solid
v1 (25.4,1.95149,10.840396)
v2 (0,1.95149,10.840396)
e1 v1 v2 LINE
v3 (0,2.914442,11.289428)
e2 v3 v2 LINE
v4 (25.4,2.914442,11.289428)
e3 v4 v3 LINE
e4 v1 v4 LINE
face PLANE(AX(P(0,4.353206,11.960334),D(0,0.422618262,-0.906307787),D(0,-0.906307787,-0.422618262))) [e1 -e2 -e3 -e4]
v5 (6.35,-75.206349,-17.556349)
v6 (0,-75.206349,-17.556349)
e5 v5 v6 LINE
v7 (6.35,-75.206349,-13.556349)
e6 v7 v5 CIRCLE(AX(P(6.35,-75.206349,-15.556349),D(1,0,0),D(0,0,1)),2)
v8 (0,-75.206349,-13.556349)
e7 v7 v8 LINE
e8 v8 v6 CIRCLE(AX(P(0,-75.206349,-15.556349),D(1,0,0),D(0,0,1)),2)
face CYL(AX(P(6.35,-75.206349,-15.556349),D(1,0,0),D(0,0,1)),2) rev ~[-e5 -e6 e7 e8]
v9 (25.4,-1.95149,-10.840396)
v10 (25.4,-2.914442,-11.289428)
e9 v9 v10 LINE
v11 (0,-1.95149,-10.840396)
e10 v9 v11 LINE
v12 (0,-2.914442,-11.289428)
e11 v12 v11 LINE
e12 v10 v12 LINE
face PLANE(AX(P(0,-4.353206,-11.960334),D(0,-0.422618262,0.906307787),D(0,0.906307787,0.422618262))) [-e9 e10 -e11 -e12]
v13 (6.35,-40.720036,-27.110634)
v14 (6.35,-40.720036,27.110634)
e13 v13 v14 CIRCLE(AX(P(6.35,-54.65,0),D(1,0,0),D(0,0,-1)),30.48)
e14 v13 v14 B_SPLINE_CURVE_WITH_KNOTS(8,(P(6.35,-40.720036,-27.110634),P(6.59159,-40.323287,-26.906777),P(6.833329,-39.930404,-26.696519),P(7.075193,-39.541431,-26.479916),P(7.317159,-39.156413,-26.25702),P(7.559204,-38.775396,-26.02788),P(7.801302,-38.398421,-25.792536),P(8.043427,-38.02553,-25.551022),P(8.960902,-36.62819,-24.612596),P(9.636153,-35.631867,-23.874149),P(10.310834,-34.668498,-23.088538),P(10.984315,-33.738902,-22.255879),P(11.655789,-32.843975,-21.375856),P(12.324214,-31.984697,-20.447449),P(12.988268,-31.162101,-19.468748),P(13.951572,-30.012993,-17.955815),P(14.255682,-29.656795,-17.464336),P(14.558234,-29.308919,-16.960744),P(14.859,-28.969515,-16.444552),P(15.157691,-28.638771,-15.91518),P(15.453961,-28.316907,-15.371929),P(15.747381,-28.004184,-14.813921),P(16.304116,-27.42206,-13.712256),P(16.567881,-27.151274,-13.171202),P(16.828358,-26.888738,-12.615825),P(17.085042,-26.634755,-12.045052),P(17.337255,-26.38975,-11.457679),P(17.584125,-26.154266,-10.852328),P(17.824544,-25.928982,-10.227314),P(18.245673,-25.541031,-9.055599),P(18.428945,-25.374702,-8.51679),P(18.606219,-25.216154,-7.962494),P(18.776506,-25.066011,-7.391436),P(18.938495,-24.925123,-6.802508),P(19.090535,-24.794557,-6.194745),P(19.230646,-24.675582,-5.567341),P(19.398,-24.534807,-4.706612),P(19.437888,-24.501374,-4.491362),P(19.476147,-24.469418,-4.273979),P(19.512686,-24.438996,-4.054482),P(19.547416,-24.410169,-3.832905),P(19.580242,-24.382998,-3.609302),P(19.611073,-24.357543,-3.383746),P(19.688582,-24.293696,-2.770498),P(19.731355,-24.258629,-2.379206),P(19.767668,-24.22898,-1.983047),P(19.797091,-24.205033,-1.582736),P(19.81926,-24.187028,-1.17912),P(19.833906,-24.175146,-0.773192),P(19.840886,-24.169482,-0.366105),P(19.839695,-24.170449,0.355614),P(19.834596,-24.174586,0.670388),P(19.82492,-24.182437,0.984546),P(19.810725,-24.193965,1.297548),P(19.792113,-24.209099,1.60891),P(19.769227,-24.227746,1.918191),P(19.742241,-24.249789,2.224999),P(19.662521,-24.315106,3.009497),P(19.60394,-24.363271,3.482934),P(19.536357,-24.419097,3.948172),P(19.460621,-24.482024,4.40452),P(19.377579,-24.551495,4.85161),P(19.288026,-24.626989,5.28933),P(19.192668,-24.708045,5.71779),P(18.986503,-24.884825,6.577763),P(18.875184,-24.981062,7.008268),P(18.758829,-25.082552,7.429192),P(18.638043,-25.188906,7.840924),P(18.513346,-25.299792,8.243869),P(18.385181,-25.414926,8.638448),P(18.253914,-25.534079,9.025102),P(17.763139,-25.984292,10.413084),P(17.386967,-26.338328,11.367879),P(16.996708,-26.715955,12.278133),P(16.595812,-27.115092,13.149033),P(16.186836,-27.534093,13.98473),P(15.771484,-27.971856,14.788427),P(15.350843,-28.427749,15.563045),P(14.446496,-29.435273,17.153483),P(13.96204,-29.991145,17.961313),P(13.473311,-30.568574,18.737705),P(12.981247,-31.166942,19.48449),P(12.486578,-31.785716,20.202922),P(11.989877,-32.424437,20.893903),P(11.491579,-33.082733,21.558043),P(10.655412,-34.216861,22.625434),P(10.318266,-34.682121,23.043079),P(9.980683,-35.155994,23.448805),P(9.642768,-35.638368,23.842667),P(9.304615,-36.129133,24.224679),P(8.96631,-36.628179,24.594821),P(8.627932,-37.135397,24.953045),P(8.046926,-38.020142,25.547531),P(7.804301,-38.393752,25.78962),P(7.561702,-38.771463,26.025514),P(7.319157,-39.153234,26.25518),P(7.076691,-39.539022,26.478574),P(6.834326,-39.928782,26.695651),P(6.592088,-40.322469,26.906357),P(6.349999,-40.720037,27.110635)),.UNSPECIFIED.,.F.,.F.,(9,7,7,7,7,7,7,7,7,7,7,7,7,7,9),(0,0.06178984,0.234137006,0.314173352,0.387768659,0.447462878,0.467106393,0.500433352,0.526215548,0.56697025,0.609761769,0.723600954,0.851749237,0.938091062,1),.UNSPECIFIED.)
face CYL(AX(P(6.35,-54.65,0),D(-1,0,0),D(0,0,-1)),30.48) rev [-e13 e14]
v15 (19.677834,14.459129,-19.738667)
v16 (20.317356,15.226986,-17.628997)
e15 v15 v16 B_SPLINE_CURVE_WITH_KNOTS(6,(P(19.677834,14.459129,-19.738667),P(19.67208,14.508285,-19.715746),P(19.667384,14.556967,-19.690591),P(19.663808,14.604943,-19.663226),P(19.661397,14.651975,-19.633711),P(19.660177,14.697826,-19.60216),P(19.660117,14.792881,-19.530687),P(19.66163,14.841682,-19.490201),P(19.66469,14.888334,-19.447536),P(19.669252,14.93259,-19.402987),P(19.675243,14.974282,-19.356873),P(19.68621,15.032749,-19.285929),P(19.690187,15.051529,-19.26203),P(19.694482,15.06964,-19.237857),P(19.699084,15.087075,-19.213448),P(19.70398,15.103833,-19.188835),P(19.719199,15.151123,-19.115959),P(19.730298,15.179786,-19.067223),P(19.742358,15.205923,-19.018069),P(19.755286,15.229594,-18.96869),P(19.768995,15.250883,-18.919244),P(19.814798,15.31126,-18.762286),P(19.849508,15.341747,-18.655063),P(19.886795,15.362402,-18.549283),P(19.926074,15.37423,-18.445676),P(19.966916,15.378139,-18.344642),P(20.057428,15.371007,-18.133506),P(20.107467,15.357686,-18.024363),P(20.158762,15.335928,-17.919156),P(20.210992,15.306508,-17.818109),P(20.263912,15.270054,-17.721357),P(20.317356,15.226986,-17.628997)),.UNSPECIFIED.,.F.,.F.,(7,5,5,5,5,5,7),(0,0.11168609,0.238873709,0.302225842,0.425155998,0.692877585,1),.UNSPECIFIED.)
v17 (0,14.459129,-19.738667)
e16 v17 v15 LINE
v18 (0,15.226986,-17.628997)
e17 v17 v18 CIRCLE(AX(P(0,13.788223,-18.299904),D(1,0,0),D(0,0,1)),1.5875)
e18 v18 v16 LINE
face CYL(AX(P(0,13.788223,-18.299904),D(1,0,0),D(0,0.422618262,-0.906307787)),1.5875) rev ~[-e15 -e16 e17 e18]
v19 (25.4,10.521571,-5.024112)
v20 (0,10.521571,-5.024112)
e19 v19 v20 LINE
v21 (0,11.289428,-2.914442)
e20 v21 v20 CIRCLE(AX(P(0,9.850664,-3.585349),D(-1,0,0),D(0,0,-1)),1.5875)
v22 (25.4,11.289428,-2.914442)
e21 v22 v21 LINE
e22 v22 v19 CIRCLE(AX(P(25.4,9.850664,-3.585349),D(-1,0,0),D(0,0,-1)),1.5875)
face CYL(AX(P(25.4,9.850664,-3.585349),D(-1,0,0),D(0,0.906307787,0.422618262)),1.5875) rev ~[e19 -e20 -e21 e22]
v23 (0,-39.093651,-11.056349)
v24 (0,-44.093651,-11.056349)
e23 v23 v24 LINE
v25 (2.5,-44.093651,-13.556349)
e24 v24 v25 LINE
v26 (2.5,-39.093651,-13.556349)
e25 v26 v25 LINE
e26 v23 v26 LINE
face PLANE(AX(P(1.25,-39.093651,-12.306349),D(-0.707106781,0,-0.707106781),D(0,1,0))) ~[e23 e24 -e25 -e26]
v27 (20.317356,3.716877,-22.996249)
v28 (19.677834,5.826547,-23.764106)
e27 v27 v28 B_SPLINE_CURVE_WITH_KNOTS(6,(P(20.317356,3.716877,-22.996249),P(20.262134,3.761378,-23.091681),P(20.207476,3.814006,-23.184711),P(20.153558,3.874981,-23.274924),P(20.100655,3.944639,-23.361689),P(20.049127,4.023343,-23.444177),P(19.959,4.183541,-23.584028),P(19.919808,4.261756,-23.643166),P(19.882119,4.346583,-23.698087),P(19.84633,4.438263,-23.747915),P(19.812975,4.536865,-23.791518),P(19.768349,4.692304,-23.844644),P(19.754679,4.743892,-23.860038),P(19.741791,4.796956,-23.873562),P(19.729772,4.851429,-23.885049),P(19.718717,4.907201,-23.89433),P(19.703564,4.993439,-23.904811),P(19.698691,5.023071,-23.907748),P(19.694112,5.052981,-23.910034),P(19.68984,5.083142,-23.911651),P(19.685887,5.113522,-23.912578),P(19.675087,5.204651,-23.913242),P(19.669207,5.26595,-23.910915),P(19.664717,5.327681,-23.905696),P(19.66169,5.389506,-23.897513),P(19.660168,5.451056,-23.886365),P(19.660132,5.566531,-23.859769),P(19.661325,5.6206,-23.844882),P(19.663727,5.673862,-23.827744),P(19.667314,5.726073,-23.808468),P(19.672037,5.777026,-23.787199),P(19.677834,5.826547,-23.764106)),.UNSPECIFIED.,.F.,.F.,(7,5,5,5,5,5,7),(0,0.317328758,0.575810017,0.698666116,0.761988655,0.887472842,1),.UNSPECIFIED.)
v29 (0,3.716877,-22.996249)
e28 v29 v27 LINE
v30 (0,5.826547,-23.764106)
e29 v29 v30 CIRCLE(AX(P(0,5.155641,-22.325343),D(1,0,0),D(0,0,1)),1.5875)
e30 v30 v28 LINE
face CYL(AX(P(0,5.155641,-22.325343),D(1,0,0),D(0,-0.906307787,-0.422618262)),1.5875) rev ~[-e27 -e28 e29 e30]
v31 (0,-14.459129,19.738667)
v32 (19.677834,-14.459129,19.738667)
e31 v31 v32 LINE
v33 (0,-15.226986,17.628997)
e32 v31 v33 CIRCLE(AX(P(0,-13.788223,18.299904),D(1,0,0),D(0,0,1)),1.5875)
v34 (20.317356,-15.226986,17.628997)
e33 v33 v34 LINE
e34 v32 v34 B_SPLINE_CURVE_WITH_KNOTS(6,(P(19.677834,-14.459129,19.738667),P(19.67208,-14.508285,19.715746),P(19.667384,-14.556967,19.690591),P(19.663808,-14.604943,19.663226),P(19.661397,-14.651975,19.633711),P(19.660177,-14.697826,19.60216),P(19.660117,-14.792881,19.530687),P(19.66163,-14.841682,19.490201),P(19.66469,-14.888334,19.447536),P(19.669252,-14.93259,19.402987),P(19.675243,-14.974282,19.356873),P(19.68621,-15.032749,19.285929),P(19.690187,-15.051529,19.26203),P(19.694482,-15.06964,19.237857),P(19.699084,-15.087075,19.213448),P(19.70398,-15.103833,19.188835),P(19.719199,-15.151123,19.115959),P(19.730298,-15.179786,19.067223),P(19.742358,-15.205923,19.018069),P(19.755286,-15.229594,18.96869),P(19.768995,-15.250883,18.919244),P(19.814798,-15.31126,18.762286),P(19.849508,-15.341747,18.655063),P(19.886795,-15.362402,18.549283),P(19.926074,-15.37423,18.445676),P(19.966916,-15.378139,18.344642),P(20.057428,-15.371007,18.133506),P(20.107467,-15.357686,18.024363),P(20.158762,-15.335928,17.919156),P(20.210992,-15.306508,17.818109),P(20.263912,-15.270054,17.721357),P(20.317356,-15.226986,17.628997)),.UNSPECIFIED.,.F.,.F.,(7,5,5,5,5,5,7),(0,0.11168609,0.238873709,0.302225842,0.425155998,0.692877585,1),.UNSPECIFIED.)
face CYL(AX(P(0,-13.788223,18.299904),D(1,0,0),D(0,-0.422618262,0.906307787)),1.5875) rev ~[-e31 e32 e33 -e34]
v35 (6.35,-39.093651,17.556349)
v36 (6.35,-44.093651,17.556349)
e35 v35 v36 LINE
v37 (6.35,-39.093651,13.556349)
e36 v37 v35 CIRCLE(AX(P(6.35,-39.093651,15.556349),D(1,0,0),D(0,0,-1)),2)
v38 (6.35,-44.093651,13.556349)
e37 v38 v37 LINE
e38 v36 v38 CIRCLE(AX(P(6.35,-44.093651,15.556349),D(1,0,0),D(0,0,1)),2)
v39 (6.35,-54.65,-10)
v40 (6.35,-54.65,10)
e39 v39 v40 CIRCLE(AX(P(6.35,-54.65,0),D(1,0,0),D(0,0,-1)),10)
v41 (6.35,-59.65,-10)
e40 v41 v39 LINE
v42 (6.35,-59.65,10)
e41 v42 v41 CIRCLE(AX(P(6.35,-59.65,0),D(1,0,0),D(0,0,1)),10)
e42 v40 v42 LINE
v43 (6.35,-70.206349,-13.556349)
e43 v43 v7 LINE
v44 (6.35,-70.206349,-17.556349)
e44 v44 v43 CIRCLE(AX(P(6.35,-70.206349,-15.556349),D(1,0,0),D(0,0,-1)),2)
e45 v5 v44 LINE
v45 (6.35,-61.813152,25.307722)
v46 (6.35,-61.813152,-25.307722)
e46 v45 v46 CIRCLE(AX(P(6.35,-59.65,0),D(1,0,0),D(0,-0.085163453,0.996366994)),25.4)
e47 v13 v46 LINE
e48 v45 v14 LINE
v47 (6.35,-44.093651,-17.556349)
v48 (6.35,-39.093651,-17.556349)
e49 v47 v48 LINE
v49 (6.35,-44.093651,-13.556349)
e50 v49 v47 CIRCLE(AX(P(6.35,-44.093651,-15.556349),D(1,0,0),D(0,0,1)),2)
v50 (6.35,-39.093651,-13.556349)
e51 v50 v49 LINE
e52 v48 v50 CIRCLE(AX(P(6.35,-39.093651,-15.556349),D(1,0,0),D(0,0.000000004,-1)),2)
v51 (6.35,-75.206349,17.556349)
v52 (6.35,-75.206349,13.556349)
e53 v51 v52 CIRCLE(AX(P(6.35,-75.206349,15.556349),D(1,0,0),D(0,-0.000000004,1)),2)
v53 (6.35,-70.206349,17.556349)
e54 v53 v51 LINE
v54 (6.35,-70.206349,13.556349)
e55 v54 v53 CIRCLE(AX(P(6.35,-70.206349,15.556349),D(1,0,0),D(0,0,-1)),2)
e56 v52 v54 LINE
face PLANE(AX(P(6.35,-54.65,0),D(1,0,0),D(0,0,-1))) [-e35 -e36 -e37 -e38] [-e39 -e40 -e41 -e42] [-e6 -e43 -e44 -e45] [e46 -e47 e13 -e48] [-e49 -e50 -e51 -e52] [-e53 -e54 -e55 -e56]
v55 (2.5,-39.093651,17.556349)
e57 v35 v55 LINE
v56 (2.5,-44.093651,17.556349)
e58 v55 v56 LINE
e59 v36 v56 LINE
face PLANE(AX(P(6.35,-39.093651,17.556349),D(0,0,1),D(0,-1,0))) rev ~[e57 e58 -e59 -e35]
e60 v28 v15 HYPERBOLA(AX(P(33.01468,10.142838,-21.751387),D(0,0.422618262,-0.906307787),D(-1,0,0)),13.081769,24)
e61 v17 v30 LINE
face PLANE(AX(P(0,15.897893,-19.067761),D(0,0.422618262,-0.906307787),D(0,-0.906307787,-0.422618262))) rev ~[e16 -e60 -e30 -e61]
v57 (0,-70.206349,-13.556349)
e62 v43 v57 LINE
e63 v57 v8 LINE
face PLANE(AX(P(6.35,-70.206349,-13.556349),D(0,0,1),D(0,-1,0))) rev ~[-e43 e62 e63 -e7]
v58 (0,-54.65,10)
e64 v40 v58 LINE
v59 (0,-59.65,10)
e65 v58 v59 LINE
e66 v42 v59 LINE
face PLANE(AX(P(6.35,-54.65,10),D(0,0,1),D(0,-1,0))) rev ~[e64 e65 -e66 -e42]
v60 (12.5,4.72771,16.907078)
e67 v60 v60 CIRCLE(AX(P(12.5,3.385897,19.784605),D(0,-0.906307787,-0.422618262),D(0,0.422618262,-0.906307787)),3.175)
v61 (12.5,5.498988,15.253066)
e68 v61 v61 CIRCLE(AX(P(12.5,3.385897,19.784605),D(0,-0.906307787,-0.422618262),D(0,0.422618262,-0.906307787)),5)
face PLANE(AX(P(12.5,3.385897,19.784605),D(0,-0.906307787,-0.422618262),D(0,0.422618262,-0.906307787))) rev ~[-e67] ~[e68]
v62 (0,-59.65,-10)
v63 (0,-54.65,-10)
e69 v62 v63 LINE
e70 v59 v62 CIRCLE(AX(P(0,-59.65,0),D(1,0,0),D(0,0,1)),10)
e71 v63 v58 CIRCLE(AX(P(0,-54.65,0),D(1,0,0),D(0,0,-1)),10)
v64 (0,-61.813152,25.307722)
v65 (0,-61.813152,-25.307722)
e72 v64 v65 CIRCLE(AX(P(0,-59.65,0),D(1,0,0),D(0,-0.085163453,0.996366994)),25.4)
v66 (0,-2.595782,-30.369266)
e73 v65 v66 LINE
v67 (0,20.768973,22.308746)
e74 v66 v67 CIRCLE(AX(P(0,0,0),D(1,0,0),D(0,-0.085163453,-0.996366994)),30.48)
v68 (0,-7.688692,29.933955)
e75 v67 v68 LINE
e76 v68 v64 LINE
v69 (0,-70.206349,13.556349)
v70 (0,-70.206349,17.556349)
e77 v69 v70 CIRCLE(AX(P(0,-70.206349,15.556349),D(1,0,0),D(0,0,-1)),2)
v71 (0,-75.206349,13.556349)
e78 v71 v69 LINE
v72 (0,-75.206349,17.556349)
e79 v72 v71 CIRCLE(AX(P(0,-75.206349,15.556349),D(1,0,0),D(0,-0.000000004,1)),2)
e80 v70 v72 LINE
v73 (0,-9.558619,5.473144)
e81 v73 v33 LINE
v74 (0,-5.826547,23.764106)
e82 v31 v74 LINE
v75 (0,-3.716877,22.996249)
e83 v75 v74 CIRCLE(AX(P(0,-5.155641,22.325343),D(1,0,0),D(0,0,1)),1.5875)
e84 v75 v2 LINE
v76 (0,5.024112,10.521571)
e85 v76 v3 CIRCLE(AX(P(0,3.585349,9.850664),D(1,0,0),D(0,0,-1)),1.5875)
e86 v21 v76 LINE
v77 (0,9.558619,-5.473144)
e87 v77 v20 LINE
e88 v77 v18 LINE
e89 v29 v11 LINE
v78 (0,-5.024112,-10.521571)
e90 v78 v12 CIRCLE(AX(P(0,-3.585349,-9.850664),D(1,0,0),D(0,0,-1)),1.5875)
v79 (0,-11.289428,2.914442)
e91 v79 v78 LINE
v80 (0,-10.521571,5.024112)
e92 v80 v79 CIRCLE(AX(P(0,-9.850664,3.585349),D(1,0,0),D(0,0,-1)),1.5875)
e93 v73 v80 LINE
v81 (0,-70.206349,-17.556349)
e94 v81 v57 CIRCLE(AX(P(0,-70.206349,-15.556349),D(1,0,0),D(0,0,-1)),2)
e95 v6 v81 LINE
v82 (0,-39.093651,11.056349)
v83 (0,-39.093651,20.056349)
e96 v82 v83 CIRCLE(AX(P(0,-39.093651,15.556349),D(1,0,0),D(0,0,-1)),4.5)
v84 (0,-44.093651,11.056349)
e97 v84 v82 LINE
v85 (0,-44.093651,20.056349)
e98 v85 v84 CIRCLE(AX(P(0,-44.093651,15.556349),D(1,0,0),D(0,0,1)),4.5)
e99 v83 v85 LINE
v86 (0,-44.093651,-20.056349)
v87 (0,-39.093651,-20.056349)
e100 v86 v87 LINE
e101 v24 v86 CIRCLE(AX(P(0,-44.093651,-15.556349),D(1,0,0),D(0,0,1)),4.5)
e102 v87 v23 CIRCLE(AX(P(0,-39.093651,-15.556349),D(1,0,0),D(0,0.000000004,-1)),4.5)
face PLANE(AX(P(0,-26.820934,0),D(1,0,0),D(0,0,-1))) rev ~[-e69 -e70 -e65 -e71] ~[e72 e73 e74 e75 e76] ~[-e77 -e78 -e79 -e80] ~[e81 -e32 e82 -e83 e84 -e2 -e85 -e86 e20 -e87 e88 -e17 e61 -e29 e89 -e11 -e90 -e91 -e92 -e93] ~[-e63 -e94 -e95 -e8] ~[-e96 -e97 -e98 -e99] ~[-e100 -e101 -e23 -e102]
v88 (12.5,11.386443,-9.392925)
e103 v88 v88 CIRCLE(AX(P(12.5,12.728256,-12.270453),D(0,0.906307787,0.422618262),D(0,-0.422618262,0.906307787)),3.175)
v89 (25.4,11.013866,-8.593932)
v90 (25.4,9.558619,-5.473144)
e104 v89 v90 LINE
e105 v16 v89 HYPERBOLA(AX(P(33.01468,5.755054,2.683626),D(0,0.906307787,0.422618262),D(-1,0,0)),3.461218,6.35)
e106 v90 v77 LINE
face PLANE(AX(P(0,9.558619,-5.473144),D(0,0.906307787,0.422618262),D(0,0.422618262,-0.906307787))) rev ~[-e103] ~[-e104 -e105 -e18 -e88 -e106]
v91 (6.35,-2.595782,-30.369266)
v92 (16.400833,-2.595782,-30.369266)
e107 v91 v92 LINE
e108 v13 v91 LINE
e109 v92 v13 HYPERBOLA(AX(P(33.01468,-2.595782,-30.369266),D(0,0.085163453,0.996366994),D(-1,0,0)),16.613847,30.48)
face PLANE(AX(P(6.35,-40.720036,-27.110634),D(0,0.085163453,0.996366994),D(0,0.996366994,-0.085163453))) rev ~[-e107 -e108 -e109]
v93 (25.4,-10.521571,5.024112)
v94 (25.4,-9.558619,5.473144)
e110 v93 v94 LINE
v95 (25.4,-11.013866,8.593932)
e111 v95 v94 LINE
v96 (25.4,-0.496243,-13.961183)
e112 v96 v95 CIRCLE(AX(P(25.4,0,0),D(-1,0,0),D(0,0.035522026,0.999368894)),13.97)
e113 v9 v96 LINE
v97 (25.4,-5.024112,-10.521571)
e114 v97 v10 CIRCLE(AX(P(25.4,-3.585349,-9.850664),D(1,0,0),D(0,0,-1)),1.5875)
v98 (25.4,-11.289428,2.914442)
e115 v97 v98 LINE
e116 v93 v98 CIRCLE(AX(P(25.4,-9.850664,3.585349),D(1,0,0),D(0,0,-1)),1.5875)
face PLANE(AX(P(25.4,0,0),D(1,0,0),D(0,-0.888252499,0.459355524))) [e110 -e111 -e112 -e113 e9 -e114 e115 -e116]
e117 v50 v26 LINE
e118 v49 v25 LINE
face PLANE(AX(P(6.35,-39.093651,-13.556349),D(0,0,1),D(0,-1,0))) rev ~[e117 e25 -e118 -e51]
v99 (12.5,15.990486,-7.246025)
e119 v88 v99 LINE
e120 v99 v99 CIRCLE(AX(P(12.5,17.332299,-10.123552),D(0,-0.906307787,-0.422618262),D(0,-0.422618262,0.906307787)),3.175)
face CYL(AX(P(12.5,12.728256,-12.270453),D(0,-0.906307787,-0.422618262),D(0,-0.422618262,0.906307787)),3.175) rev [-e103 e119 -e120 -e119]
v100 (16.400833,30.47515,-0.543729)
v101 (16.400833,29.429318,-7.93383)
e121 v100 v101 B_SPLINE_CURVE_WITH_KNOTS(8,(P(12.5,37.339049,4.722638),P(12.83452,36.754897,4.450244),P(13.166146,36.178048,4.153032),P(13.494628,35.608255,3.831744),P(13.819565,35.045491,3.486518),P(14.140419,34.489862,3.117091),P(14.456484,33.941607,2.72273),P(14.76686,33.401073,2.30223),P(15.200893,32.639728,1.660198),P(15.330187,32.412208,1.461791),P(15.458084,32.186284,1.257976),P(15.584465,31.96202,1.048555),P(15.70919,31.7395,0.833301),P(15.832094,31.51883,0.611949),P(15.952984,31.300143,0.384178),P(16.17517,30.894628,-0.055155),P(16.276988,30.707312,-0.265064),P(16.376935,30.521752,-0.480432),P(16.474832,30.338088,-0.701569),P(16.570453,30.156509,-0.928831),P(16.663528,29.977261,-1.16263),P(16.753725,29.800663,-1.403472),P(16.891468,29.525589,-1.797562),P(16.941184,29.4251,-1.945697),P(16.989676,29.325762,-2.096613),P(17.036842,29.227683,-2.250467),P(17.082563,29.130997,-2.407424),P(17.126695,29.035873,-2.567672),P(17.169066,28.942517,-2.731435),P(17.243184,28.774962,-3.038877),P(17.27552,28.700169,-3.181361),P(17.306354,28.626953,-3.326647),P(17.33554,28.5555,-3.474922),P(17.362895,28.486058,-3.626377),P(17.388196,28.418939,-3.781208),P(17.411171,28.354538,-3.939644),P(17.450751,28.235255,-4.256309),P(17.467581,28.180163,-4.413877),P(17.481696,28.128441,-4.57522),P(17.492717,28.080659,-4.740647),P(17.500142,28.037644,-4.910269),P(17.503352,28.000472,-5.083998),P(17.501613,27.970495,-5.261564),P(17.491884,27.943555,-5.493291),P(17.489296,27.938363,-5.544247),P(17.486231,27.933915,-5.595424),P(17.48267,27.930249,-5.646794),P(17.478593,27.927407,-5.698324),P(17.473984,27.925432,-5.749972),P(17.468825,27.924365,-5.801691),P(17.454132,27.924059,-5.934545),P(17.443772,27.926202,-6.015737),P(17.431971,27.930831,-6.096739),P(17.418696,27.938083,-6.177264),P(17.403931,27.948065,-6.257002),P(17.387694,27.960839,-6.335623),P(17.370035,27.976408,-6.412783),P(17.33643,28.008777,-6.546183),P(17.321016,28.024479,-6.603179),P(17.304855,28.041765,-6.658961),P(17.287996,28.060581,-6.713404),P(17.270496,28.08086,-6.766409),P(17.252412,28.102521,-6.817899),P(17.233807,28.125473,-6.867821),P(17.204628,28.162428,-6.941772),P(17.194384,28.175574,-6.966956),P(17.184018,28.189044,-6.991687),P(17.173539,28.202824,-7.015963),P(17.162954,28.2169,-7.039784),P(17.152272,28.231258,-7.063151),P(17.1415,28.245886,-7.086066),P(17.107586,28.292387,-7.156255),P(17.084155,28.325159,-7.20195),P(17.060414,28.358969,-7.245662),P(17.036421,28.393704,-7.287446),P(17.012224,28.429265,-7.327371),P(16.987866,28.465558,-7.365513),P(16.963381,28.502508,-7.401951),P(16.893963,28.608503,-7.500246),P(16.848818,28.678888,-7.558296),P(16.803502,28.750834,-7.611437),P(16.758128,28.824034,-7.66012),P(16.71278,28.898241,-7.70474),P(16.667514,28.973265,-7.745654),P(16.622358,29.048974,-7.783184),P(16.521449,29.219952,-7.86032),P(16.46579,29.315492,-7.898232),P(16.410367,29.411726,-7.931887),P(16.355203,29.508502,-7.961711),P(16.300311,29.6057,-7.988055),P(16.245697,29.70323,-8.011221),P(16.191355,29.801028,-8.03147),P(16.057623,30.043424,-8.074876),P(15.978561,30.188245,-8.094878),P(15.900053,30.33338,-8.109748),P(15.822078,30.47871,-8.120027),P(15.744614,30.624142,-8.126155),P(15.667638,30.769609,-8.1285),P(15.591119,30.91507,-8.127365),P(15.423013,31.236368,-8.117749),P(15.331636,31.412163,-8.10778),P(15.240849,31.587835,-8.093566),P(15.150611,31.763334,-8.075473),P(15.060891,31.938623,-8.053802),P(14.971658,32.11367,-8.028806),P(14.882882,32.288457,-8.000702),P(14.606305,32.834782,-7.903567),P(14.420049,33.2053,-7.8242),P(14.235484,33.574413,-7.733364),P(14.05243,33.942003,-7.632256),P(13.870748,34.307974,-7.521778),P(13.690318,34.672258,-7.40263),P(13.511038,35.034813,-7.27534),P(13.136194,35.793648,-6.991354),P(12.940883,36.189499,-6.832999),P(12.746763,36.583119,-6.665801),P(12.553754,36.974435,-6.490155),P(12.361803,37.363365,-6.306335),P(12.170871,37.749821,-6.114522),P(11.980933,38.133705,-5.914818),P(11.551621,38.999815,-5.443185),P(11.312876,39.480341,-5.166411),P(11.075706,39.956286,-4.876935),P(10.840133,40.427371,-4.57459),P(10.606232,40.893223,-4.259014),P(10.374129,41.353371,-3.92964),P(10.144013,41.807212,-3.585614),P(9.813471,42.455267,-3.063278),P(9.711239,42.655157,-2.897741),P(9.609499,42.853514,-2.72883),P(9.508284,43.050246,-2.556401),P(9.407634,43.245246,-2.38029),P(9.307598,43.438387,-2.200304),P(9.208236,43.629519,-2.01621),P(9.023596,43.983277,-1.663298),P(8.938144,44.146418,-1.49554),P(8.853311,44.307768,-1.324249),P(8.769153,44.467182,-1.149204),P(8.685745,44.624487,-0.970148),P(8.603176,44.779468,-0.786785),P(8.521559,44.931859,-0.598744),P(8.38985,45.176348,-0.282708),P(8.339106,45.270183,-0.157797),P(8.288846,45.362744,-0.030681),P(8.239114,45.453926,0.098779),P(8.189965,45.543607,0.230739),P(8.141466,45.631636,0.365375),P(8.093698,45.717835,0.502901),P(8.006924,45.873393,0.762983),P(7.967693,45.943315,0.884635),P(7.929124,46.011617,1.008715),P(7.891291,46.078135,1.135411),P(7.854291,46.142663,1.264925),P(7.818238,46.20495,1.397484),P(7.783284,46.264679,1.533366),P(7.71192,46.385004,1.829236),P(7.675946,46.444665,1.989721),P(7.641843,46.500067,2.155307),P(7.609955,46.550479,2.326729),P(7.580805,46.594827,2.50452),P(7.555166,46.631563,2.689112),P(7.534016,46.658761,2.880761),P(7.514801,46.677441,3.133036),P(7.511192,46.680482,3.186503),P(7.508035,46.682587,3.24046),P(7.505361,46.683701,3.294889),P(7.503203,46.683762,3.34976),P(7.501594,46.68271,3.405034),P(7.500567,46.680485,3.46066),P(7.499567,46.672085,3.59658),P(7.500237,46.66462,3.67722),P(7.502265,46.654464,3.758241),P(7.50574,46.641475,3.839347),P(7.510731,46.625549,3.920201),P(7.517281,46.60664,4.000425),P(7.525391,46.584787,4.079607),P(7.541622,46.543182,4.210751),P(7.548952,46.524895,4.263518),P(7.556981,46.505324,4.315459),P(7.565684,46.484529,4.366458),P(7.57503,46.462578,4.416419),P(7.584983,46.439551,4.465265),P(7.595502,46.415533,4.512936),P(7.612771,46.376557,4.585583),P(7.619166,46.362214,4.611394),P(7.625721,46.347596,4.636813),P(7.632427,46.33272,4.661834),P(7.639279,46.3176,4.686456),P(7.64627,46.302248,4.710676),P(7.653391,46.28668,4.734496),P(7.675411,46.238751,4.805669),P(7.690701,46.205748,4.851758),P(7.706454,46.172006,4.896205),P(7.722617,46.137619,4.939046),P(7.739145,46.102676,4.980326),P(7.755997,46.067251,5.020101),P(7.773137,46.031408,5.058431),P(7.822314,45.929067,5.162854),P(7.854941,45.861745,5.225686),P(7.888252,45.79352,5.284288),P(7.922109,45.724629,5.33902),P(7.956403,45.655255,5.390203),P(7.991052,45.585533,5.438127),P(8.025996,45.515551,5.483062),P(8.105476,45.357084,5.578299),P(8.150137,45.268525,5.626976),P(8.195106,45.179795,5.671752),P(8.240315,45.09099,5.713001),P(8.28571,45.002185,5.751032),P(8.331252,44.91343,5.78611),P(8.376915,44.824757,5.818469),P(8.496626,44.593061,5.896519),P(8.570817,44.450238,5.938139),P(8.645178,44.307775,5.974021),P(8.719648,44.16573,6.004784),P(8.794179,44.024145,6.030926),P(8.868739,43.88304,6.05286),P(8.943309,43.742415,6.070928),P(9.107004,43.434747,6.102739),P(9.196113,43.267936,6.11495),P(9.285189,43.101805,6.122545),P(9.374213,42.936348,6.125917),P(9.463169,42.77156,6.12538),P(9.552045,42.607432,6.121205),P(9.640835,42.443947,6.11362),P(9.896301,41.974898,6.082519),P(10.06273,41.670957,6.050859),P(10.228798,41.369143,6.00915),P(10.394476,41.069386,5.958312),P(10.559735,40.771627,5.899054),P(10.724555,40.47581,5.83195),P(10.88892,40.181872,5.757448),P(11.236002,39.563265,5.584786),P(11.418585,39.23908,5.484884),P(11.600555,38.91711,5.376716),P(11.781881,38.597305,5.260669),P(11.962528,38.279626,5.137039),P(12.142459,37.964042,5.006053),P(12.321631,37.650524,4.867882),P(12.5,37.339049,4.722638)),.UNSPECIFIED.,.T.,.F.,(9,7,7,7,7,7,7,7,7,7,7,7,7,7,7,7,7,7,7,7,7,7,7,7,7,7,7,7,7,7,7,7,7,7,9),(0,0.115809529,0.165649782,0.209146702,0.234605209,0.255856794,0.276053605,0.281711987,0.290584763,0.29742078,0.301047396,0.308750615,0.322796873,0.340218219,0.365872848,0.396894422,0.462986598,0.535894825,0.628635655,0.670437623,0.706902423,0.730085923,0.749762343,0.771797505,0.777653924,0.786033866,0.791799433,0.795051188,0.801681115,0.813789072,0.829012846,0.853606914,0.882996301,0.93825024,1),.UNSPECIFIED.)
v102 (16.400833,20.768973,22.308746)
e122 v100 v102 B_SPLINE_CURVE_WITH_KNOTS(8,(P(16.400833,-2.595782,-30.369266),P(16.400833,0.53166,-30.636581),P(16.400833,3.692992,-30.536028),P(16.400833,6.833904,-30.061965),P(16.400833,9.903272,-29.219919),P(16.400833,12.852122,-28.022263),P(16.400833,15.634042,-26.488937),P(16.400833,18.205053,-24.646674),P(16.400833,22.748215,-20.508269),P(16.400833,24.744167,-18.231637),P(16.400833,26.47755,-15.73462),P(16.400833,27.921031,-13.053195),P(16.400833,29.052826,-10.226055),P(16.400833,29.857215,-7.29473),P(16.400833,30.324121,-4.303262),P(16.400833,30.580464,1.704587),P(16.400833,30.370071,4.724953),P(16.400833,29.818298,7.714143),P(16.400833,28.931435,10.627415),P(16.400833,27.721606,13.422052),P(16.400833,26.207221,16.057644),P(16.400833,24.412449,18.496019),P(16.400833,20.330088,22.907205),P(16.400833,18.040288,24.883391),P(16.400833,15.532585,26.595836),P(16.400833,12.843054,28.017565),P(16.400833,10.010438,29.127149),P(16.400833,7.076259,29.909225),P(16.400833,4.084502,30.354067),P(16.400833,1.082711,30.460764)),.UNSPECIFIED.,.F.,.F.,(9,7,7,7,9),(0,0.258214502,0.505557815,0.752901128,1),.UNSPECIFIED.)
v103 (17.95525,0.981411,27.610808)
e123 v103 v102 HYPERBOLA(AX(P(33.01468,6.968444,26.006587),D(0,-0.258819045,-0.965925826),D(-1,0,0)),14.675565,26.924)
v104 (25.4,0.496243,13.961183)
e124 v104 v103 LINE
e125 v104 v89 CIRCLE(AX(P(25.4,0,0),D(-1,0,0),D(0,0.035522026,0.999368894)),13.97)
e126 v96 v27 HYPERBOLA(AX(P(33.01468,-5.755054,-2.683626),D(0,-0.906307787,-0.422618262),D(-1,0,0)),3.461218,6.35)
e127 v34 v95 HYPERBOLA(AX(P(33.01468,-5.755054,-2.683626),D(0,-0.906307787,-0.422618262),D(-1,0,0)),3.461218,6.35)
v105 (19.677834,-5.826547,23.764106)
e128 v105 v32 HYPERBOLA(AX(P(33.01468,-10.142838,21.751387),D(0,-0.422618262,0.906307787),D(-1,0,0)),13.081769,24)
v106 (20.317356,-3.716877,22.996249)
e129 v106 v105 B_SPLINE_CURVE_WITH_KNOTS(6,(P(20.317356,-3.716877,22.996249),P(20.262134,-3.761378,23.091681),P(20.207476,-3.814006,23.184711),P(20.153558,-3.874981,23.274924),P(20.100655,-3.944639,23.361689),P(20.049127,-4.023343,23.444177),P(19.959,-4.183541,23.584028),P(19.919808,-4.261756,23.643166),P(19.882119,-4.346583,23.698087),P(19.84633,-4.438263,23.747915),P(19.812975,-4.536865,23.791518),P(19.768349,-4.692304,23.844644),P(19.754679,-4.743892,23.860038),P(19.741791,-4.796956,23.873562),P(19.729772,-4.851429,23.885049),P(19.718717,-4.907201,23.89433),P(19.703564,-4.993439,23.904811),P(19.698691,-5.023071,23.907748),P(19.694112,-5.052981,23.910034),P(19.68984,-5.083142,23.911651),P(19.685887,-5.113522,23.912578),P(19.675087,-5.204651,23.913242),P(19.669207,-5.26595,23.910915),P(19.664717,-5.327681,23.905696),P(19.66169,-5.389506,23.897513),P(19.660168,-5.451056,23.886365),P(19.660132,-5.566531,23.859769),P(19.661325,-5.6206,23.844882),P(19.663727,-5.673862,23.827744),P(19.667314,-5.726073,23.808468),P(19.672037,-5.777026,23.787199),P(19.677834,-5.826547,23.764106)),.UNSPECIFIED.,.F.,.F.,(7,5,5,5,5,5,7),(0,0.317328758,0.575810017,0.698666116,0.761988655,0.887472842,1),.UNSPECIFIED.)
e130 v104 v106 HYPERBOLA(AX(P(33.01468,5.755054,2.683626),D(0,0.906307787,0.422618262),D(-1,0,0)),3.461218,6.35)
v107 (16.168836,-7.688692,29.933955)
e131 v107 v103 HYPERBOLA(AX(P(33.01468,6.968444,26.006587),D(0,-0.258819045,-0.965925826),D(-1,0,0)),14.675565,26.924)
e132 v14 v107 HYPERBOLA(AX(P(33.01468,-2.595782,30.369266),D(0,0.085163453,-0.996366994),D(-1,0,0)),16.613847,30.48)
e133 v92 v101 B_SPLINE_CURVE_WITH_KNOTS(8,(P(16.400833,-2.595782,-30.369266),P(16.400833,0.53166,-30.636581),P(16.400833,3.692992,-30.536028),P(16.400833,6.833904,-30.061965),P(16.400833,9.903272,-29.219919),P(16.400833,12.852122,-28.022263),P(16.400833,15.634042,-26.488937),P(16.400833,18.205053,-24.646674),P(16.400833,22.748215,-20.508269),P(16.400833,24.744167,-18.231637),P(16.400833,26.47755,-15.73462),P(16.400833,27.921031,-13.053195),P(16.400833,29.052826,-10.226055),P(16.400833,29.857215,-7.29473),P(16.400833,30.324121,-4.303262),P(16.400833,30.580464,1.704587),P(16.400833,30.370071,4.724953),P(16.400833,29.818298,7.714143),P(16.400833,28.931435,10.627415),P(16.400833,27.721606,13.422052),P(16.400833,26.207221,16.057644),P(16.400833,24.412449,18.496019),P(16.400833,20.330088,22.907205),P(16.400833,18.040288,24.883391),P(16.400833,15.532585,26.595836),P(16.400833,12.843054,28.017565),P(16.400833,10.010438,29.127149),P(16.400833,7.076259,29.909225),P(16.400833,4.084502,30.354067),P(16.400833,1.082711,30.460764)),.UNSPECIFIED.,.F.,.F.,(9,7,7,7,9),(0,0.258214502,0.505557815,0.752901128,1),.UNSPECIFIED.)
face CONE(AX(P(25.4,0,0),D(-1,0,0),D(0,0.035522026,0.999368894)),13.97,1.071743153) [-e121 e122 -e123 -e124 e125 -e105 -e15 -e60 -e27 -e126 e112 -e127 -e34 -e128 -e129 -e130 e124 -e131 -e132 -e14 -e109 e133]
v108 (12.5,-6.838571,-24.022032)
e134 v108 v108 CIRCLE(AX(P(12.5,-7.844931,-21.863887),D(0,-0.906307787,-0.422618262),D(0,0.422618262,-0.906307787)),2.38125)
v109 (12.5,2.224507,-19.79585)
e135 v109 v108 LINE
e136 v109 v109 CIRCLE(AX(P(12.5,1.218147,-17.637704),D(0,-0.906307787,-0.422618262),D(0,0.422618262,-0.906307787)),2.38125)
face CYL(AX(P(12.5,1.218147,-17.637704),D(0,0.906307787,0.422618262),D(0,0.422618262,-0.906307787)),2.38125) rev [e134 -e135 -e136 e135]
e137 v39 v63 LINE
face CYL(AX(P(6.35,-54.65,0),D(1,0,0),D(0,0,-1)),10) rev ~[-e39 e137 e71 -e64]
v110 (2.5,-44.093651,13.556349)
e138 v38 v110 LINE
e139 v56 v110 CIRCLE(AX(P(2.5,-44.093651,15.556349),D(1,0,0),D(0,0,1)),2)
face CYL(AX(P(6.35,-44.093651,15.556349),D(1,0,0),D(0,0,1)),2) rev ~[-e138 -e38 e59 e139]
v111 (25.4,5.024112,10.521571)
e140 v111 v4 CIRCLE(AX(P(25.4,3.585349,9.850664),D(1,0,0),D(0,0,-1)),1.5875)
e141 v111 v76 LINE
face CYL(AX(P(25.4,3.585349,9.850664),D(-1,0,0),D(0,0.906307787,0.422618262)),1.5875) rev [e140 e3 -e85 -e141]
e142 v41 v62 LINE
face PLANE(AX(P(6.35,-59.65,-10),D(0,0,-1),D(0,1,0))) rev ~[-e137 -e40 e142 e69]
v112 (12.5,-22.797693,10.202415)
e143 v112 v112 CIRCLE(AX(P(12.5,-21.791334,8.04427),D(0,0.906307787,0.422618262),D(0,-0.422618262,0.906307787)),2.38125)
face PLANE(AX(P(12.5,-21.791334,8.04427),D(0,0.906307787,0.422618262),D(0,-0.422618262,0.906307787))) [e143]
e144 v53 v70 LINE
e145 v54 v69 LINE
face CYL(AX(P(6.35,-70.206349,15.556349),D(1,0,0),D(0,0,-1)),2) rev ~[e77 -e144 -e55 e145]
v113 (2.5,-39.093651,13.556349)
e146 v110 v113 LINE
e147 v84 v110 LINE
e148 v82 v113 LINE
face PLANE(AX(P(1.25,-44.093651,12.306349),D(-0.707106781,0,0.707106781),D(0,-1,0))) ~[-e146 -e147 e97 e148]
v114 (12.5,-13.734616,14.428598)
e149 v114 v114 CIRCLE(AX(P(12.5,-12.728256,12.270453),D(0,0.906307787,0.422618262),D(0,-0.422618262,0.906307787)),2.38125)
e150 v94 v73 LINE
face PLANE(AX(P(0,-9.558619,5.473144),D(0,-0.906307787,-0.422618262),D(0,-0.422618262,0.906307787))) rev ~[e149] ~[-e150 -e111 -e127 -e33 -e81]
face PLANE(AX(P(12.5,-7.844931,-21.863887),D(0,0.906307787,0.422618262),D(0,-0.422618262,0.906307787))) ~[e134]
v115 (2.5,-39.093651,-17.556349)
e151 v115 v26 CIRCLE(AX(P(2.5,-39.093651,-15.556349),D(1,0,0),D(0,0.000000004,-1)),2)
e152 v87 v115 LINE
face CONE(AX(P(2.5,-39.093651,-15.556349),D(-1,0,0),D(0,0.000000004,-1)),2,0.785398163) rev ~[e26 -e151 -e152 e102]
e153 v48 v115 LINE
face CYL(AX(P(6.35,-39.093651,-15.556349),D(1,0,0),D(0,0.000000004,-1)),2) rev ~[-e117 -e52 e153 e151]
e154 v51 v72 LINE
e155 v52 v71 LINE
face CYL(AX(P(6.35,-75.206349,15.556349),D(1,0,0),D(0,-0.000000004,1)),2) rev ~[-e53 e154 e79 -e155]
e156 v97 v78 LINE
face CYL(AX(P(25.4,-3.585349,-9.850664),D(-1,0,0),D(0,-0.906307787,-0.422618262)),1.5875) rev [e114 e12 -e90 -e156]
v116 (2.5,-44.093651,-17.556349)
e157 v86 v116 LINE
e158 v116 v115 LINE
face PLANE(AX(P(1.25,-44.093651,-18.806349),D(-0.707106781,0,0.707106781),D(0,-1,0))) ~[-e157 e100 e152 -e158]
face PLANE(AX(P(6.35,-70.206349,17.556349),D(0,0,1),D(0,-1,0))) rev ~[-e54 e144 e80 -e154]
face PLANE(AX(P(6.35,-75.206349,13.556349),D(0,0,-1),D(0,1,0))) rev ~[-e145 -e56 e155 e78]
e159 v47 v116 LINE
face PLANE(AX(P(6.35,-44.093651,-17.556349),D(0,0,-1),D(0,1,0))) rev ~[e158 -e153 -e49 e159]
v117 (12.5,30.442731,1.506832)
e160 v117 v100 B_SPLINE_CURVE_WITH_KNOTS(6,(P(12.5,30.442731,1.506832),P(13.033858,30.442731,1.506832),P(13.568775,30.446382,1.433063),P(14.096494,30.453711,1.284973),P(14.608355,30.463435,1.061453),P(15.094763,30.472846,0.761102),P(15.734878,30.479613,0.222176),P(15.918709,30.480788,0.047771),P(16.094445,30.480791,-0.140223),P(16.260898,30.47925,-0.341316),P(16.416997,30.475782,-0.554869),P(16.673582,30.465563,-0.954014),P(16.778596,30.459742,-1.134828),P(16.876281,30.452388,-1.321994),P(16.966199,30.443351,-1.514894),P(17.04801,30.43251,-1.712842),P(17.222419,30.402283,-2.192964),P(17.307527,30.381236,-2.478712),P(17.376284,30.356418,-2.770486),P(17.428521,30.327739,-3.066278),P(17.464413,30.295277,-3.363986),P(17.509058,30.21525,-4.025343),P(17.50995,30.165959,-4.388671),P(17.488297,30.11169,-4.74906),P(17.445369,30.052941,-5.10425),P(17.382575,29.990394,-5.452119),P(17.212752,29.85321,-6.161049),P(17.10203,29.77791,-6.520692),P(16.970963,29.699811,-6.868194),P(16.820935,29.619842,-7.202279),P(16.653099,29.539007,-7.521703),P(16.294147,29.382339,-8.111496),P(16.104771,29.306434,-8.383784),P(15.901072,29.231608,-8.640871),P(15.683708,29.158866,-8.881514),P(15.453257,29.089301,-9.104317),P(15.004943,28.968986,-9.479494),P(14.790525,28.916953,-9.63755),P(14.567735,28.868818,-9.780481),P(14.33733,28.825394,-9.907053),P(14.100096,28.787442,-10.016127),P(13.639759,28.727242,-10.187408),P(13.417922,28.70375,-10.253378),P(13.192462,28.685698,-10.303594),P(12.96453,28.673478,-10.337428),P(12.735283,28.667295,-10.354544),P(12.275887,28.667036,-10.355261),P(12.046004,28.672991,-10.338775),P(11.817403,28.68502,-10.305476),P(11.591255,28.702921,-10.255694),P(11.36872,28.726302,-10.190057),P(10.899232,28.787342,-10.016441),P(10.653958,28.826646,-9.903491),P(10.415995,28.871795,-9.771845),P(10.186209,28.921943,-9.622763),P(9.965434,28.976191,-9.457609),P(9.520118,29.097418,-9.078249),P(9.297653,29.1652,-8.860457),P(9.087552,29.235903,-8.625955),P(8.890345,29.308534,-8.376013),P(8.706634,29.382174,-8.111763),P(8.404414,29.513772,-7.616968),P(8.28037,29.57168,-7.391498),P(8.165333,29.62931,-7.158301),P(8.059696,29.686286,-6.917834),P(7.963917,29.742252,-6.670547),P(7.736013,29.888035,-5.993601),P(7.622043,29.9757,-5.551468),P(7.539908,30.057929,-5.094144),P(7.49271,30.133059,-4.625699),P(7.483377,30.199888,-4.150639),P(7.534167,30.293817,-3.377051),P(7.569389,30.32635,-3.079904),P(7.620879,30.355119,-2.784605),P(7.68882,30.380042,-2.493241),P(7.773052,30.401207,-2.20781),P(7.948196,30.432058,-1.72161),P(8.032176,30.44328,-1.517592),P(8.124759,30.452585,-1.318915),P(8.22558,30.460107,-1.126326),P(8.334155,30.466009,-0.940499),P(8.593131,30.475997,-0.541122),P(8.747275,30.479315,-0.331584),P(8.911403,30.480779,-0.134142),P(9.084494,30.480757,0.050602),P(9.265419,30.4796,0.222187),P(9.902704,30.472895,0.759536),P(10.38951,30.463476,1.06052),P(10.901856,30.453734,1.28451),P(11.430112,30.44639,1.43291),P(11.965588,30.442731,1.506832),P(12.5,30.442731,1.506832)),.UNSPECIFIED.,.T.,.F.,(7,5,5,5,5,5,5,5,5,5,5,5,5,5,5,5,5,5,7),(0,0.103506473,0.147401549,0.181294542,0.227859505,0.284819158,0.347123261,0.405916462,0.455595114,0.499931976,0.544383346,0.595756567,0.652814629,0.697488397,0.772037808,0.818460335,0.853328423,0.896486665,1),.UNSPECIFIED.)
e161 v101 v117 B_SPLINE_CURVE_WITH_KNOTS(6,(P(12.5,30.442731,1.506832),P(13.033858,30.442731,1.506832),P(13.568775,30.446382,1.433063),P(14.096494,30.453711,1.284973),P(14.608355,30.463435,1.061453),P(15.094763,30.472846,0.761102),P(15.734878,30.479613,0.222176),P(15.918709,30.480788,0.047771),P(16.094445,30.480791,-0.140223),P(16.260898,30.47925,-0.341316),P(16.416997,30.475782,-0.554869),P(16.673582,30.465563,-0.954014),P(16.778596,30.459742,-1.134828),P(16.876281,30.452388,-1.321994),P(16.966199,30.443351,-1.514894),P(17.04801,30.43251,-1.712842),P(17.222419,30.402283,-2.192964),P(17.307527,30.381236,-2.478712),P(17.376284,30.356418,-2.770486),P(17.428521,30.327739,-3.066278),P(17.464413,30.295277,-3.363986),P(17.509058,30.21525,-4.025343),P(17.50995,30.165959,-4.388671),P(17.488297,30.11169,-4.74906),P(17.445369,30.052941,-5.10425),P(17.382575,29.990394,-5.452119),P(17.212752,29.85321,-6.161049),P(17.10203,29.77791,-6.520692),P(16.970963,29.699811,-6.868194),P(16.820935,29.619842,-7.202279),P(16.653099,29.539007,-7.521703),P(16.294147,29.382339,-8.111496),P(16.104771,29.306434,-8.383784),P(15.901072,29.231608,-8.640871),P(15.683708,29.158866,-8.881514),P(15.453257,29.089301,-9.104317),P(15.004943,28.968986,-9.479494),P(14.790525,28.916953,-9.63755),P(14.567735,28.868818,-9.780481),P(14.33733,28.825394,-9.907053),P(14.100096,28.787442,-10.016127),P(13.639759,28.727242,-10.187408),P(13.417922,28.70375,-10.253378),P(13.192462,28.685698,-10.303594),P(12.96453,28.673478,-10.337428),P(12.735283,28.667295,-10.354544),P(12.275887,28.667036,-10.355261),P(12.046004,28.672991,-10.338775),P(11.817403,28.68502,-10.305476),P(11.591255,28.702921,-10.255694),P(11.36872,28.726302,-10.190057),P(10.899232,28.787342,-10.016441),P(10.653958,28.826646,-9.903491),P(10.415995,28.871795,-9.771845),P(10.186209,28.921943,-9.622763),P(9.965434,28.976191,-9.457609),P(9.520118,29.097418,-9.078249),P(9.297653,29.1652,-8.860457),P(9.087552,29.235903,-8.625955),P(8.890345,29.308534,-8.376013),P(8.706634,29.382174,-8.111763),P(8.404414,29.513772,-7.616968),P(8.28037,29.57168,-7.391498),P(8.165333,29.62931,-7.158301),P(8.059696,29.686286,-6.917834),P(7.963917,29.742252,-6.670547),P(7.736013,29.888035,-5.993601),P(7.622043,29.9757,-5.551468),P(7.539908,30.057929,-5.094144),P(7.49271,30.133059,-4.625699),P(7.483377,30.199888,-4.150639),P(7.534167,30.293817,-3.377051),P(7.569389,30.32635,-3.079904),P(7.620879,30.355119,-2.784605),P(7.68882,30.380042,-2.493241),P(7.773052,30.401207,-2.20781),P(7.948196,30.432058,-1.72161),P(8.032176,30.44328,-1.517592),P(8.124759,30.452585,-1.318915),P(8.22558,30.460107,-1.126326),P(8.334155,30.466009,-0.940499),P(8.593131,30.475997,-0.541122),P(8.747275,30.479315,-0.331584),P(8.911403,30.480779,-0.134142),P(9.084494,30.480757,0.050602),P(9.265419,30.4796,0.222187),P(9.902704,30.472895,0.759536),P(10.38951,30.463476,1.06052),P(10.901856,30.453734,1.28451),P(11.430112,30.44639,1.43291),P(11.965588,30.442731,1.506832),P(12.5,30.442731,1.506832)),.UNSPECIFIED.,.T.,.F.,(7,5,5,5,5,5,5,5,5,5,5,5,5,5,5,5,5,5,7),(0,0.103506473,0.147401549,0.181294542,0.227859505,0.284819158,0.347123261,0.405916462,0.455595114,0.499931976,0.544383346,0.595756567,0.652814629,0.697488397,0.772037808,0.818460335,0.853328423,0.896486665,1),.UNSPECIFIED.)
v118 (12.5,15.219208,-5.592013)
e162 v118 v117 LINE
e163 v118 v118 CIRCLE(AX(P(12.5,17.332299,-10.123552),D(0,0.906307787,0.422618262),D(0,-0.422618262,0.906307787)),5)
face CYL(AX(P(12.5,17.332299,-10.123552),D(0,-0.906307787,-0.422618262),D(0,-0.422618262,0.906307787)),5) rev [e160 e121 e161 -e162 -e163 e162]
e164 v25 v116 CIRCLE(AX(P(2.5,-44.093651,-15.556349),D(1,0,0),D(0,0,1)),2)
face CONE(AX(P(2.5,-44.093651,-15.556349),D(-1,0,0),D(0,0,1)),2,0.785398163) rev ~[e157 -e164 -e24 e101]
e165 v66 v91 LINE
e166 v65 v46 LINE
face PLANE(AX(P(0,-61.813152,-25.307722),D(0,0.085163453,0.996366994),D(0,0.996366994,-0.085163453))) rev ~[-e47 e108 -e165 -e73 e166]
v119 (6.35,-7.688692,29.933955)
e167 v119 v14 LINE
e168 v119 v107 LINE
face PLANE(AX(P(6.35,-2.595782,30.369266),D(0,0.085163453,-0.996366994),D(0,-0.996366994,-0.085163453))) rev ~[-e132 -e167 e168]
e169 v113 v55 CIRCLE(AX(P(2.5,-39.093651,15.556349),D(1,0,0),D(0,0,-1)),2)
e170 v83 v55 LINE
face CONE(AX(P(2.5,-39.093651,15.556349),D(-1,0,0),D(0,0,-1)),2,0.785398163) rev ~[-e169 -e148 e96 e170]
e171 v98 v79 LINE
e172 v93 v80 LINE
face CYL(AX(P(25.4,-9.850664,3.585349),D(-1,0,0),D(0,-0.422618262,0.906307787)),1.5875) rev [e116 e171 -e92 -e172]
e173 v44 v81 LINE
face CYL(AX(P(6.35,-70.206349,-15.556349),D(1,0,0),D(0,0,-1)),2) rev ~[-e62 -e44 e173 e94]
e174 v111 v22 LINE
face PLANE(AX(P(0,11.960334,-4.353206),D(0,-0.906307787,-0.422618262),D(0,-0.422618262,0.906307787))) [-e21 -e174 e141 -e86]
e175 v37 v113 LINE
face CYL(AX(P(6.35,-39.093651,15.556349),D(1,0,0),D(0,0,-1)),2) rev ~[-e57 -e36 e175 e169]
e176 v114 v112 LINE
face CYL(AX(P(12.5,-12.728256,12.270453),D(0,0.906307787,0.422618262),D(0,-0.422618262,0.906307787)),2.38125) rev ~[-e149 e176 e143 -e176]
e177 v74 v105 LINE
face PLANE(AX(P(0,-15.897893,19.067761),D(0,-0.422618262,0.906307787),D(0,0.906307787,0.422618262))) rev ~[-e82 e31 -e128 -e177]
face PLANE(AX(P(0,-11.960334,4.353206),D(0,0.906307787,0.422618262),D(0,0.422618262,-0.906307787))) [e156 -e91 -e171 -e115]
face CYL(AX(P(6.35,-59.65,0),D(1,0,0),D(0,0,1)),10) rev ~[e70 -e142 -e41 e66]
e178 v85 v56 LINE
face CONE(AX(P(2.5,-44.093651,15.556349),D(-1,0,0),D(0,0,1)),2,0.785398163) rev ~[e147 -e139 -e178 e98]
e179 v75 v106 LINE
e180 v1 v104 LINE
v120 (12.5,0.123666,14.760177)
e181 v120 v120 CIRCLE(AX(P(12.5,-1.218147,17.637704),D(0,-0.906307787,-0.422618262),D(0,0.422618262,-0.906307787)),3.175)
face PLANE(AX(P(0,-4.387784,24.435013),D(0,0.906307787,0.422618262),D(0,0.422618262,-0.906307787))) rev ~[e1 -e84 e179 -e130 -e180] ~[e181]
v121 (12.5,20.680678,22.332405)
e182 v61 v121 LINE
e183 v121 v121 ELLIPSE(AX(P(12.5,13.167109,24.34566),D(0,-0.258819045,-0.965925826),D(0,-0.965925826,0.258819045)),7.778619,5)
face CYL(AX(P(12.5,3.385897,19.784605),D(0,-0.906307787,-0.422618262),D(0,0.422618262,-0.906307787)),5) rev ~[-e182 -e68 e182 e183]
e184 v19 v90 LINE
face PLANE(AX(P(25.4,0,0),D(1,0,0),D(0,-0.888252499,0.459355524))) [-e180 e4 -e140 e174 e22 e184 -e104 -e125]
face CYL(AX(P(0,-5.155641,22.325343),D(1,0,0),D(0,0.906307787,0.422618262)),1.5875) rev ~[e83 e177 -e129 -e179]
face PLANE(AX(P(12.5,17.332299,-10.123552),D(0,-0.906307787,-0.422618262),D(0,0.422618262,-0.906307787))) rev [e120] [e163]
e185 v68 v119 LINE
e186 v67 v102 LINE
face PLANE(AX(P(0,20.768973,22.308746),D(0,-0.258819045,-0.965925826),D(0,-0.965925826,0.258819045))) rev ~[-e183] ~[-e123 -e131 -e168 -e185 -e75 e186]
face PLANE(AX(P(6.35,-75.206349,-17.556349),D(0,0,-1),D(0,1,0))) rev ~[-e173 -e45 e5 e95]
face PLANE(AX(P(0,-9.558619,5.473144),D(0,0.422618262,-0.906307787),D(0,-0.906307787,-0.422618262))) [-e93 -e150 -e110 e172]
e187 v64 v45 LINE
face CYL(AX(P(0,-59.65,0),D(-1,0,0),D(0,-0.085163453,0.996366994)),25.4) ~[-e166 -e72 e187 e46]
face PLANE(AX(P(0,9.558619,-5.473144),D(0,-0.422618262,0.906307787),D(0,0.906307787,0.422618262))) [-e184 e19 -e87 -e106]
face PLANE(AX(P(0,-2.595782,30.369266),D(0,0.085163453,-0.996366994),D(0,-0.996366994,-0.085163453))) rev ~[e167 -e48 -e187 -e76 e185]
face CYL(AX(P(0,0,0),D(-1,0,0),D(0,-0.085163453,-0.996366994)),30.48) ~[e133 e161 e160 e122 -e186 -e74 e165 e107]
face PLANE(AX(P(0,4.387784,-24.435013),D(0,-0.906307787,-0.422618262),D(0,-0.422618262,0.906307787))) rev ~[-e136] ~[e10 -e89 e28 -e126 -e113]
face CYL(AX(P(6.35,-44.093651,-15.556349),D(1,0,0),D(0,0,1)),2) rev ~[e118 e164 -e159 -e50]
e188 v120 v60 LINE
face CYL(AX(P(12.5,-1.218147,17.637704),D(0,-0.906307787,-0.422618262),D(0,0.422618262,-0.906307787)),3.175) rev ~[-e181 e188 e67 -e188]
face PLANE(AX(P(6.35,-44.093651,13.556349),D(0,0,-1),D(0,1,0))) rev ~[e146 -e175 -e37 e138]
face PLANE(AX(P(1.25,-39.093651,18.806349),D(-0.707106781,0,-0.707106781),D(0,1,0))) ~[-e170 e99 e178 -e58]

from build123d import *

# Parameters (mm, degrees)
BOSS_EXTRUDE1_DEPTH = 6.35
CUT_EXTRUDE18_DEPTH = 10
SKETCH20_R          = 57.15
BOSS_EXTRUDE5_DEPTH = 19.05
CUT_EXTRUDE14_DEPTH = 106.568863781
SKETCH22_R          = 3.175
CUT_EXTRUDE15_DEPTH = 112.672649781
SKETCH24_R          = 5
CUT_EXTRUDE16_DEPTH = 117.574618566
SKETCH25_R          = 2.38125
CUT_EXTRUDE17_DEPTH = 10
CHAMFER2_SIZE       = 2.5
FILLET1_R           = 1.5875
SKETCH28_R          = 30.48
CUT_EXTRUDE19_DEPTH = 105.22344993
CUT_EXTRUDE20_DEPTH = 100.947550226
CUT_EXTRUDE21_DEPTH = 94.849309593


with BuildPart() as part:
    # Sketch1 → Boss-Extrude1 (new body)
    with BuildSketch(Plane(origin=(0, 0, 0), x_dir=(0, 0, -1), z_dir=(1, 0, 0))):
        with BuildLine():
            Line((-30.369265969, -2.595782062), (-25.307721641, -61.813151718))
            ThreePointArc((-25.307721641, -61.813151718), (0, -85.05), (25.307721641, -61.813151718))
            Line((25.307721641, -61.813151718), (30.369265969, -2.595782062))
            ThreePointArc((30.369265969, -2.595782062), (0, 30.48), (-30.369265969, -2.595782062))
        make_face()
        Polygon((4.353205728, 11.960334439), (-11.960334439, 4.353205728), (-4.353205728, -11.960334439), (11.960334439, -4.353205728), align=None, mode=Mode.SUBTRACT)
    extrude(amount=BOSS_EXTRUDE1_DEPTH)

    # Sketch19 → Cut-Extrude18 (cut)
    with BuildSketch(Plane(origin=(6.35, 0, 0), x_dir=(0, 0, -1), z_dir=(1, 0, 0))):
        with BuildLine():
            Line((13.556349186, -39.093650814), (13.556349186, -44.093650814))
            ThreePointArc((13.556349186, -44.093650814), (15.556349186, -46.093650814), (17.556349186, -44.093650814))
            Line((17.556349186, -44.093650814), (17.556349186, -39.093650806))
            ThreePointArc((17.556349186, -39.093650806), (15.556349182, -37.093650814), (13.556349186, -39.093650814))
        make_face()
        with BuildLine():
            Line((-10, -54.65), (-10, -59.65))
            ThreePointArc((-10, -59.65), (0, -69.65), (10, -59.65))
            Line((10, -59.65), (10, -54.65))
            ThreePointArc((10, -54.65), (0, -44.65), (-10, -54.65))
        make_face()
        with BuildLine():
            Line((17.556349186, -75.206349194), (17.556349186, -70.206349186))
            ThreePointArc((17.556349186, -70.206349186), (15.556349186, -68.206349186), (13.556349186, -70.206349186))
            Line((13.556349186, -70.206349186), (13.556349186, -75.206349186))
            ThreePointArc((13.556349186, -75.206349186), (15.556349182, -77.206349186), (17.556349186, -75.206349194))
        make_face()
        with BuildLine():
            Line((-17.556349186, -39.093650806), (-17.556349186, -44.093650814))
            ThreePointArc((-17.556349186, -44.093650814), (-15.556349186, -46.093650814), (-13.556349186, -44.093650814))
            Line((-13.556349186, -44.093650814), (-13.556349186, -39.093650814))
            ThreePointArc((-13.556349186, -39.093650814), (-15.556349182, -37.093650814), (-17.556349186, -39.093650806))
        make_face()
        with BuildLine():
            Line((-13.556349186, -75.206349186), (-13.556349186, -70.206349186))
            ThreePointArc((-13.556349186, -70.206349186), (-15.556349186, -68.206349186), (-17.556349186, -70.206349186))
            Line((-17.556349186, -70.206349186), (-17.556349186, -75.206349194))
            ThreePointArc((-17.556349186, -75.206349194), (-15.556349182, -77.206349186), (-13.556349186, -75.206349186))
        make_face()
    extrude(amount=-CUT_EXTRUDE18_DEPTH, mode=Mode.SUBTRACT)

    # Sketch20 → Boss-Extrude5 (add)
    with BuildSketch(Plane(origin=(6.35, 0, 0), x_dir=(0, 0, -1), z_dir=(1, 0, 0))):
        with Locations(Location((0, 0, 0), (0, 0, 242.654471511))):
            Circle(SKETCH20_R)
    extrude(amount=BOSS_EXTRUDE5_DEPTH)

    # Sketch21 → Cut-Extrude14 (cut, through all)
    with BuildSketch(Plane.ZY):
        Polygon((-19.067760927, 15.897892729), (-24.435012851, 4.387783834), (-10.840396045, -1.951490092), (-5.473144121, 9.558618803), align=None)
        Polygon((-11.960334439, -4.353205728), (-4.353205728, 11.960334439), (11.960334439, 4.353205728), (4.353205728, -11.960334439), align=None)
        Polygon((10.840396045, 1.951490092), (5.473144121, -9.558618803), (19.067760927, -15.897892729), (24.435012851, -4.387783834), align=None)
    extrude(amount=-CUT_EXTRUDE14_DEPTH, mode=Mode.SUBTRACT)

    # Sketch22 → Cut-Extrude15 (cut, through all)
    with BuildSketch(Plane(origin=(0, 5.755054448, 2.683625962), x_dir=(-1, 0, 0), z_dir=(0, -0.9063077870366495, -0.4226182617407005))):
        with Locations(Location((-12.5, -16.5, 0), (0, 0, 90))):
            Circle(SKETCH22_R)
    cut_extrude15 = extrude(amount=-CUT_EXTRUDE15_DEPTH, mode=Mode.SUBTRACT)

    # Sketch24 → Cut-Extrude16 (cut, through all)
    with BuildSketch(Plane(origin=(0, 10.359098006, 4.830526732), x_dir=(-1, 0, 0), z_dir=(0, -0.9063077870366495, -0.4226182617407005))):
        with Locations(Location((-12.5, -16.5, 0), (0, 0, 90))):
            Circle(SKETCH24_R)
    cut_extrude16 = extrude(amount=-CUT_EXTRUDE16_DEPTH, mode=Mode.SUBTRACT)

    # Sketch25 → Cut-Extrude17 (cut)
    with BuildSketch(Plane(origin=(0, -5.755054448, -2.683625962), x_dir=(1, 0, 0), z_dir=(0, 0.9063077870366495, 0.4226182617407006))):
        with Locations(Location((12.5, -16.5, 0), (0, 0, 270))):
            Circle(SKETCH25_R)
    cut_extrude17 = extrude(amount=-CUT_EXTRUDE17_DEPTH, mode=Mode.SUBTRACT)

    # Mirror1: Cut-Extrude15, Cut-Extrude16, Cut-Extrude17 across plane
    add(cut_extrude15.mirror(Plane(origin=(0, 0, 0), x_dir=(1, 0, 0), z_dir=(0, 0.42261826174070105, -0.9063077870366493))), mode=Mode.SUBTRACT)
    add(cut_extrude16.mirror(Plane(origin=(0, 0, 0), x_dir=(1, 0, 0), z_dir=(0, 0.42261826174070105, -0.9063077870366493))), mode=Mode.SUBTRACT)
    add(cut_extrude17.mirror(Plane(origin=(0, 0, 0), x_dir=(1, 0, 0), z_dir=(0, 0.42261826174070105, -0.9063077870366493))), mode=Mode.SUBTRACT)


with BuildPart() as body_2:
    # Mirror2: mirrored copy
    add(part.part.mirror(Plane(origin=(0, 0, 0), x_dir=(0, 0, 1), z_dir=(1, 0, 0))))


with BuildPart() as part_1:
    add(part.part)

    # Chamfer2
    chamfer2_edges = [part_1.edges().sort_by_distance(p)[0] for p in [
        (0, -41.593650814, 13.556349186),
        (0, -37.093650814, 15.556349182),
        (0, -41.59365081, 17.556349186),
        (0, -46.093650814, 15.556349186),
        (0, -41.59365081, -17.556349186),
        (0, -37.093650814, -15.556349182),
        (0, -41.593650814, -13.556349186),
        (0, -46.093650814, -15.556349186),
    ]]
    chamfer(chamfer2_edges, length=CHAMFER2_SIZE)

    # Fillet1
    fillet1_edges = [part_1.edges().sort_by_distance(p)[0] for p in [
        (12.7, 4.387783834, -24.435012851),
        (12.7, 15.897892729, -19.067760927),
        (12.7, -4.387783834, 24.435012851),
        (12.7, -15.897892729, 19.067760927),
        (12.7, 11.960334439, -4.353205728),
        (12.7, 4.353205728, 11.960334439),
        (12.7, -11.960334439, 4.353205728),
        (12.7, -4.353205728, -11.960334439),
    ]]
    fillet(fillet1_edges, radius=FILLET1_R)

    # Sketch28 → Cut-Extrude19 (cut, through all)
    with BuildSketch(Plane(origin=(6.35, 0, 0), x_dir=(0, 0, -1), z_dir=(1, 0, 0))):
        with Locations((0, -54.65)):
            Circle(SKETCH28_R)
    extrude(amount=CUT_EXTRUDE19_DEPTH, mode=Mode.SUBTRACT)

    # Sketch31 → Cut-Revolve1 (revolve, cut)
    with BuildSketch(Plane(origin=(0, 0, 0), x_dir=(1, 0, 0), z_dir=(0, 1, 0)), mode=Mode.PRIVATE) as cut_revolve1_sk:
        Polygon((6.35, -59.952108656), (25.4, -59.952108656), (25.4, -13.97), (6.35, -48.91940088), align=None)
    revolve(cut_revolve1_sk.sketch.rotate(Axis((25.4, 0, 0), (-1, 0, 0)), 2.035690426), axis=Axis((25.4, 0, 0), (-1, 0, 0)), mode=Mode.SUBTRACT)

    # Sketch32 → Cut-Extrude20 (cut, through all)
    with BuildSketch(Plane.ZY.offset(-6.35)):
        with BuildLine():
            Line((30.369265969, -2.595782062), (27.110634253, -40.720035521))
            ThreePointArc((27.110634253, -40.720035521), (0, 48.91940088), (-27.110634253, -40.720035521))
            Line((-27.110634253, -40.720035521), (-30.369265969, -2.595782062))
            ThreePointArc((-30.369265969, -2.595782062), (0, 30.48), (30.369265969, -2.595782062))
        make_face()
    extrude(amount=-CUT_EXTRUDE20_DEPTH, mode=Mode.SUBTRACT)

    # Sketch33 → Cut-Extrude21 (cut, through all)
    with BuildSketch(Plane.ZY):
        with BuildLine():
            Line((29.933954685, -7.688691966), (30.369265969, -2.595782062))
            ThreePointArc((30.369265969, -2.595782062), (28.813559126, 9.940282213), (22.308746363, 20.76897291))
            Line((22.308746363, 20.76897291), (29.933954685, -7.688691966))
        make_face()
    extrude(amount=-CUT_EXTRUDE21_DEPTH, mode=Mode.SUBTRACT)


solid = part_1.part
